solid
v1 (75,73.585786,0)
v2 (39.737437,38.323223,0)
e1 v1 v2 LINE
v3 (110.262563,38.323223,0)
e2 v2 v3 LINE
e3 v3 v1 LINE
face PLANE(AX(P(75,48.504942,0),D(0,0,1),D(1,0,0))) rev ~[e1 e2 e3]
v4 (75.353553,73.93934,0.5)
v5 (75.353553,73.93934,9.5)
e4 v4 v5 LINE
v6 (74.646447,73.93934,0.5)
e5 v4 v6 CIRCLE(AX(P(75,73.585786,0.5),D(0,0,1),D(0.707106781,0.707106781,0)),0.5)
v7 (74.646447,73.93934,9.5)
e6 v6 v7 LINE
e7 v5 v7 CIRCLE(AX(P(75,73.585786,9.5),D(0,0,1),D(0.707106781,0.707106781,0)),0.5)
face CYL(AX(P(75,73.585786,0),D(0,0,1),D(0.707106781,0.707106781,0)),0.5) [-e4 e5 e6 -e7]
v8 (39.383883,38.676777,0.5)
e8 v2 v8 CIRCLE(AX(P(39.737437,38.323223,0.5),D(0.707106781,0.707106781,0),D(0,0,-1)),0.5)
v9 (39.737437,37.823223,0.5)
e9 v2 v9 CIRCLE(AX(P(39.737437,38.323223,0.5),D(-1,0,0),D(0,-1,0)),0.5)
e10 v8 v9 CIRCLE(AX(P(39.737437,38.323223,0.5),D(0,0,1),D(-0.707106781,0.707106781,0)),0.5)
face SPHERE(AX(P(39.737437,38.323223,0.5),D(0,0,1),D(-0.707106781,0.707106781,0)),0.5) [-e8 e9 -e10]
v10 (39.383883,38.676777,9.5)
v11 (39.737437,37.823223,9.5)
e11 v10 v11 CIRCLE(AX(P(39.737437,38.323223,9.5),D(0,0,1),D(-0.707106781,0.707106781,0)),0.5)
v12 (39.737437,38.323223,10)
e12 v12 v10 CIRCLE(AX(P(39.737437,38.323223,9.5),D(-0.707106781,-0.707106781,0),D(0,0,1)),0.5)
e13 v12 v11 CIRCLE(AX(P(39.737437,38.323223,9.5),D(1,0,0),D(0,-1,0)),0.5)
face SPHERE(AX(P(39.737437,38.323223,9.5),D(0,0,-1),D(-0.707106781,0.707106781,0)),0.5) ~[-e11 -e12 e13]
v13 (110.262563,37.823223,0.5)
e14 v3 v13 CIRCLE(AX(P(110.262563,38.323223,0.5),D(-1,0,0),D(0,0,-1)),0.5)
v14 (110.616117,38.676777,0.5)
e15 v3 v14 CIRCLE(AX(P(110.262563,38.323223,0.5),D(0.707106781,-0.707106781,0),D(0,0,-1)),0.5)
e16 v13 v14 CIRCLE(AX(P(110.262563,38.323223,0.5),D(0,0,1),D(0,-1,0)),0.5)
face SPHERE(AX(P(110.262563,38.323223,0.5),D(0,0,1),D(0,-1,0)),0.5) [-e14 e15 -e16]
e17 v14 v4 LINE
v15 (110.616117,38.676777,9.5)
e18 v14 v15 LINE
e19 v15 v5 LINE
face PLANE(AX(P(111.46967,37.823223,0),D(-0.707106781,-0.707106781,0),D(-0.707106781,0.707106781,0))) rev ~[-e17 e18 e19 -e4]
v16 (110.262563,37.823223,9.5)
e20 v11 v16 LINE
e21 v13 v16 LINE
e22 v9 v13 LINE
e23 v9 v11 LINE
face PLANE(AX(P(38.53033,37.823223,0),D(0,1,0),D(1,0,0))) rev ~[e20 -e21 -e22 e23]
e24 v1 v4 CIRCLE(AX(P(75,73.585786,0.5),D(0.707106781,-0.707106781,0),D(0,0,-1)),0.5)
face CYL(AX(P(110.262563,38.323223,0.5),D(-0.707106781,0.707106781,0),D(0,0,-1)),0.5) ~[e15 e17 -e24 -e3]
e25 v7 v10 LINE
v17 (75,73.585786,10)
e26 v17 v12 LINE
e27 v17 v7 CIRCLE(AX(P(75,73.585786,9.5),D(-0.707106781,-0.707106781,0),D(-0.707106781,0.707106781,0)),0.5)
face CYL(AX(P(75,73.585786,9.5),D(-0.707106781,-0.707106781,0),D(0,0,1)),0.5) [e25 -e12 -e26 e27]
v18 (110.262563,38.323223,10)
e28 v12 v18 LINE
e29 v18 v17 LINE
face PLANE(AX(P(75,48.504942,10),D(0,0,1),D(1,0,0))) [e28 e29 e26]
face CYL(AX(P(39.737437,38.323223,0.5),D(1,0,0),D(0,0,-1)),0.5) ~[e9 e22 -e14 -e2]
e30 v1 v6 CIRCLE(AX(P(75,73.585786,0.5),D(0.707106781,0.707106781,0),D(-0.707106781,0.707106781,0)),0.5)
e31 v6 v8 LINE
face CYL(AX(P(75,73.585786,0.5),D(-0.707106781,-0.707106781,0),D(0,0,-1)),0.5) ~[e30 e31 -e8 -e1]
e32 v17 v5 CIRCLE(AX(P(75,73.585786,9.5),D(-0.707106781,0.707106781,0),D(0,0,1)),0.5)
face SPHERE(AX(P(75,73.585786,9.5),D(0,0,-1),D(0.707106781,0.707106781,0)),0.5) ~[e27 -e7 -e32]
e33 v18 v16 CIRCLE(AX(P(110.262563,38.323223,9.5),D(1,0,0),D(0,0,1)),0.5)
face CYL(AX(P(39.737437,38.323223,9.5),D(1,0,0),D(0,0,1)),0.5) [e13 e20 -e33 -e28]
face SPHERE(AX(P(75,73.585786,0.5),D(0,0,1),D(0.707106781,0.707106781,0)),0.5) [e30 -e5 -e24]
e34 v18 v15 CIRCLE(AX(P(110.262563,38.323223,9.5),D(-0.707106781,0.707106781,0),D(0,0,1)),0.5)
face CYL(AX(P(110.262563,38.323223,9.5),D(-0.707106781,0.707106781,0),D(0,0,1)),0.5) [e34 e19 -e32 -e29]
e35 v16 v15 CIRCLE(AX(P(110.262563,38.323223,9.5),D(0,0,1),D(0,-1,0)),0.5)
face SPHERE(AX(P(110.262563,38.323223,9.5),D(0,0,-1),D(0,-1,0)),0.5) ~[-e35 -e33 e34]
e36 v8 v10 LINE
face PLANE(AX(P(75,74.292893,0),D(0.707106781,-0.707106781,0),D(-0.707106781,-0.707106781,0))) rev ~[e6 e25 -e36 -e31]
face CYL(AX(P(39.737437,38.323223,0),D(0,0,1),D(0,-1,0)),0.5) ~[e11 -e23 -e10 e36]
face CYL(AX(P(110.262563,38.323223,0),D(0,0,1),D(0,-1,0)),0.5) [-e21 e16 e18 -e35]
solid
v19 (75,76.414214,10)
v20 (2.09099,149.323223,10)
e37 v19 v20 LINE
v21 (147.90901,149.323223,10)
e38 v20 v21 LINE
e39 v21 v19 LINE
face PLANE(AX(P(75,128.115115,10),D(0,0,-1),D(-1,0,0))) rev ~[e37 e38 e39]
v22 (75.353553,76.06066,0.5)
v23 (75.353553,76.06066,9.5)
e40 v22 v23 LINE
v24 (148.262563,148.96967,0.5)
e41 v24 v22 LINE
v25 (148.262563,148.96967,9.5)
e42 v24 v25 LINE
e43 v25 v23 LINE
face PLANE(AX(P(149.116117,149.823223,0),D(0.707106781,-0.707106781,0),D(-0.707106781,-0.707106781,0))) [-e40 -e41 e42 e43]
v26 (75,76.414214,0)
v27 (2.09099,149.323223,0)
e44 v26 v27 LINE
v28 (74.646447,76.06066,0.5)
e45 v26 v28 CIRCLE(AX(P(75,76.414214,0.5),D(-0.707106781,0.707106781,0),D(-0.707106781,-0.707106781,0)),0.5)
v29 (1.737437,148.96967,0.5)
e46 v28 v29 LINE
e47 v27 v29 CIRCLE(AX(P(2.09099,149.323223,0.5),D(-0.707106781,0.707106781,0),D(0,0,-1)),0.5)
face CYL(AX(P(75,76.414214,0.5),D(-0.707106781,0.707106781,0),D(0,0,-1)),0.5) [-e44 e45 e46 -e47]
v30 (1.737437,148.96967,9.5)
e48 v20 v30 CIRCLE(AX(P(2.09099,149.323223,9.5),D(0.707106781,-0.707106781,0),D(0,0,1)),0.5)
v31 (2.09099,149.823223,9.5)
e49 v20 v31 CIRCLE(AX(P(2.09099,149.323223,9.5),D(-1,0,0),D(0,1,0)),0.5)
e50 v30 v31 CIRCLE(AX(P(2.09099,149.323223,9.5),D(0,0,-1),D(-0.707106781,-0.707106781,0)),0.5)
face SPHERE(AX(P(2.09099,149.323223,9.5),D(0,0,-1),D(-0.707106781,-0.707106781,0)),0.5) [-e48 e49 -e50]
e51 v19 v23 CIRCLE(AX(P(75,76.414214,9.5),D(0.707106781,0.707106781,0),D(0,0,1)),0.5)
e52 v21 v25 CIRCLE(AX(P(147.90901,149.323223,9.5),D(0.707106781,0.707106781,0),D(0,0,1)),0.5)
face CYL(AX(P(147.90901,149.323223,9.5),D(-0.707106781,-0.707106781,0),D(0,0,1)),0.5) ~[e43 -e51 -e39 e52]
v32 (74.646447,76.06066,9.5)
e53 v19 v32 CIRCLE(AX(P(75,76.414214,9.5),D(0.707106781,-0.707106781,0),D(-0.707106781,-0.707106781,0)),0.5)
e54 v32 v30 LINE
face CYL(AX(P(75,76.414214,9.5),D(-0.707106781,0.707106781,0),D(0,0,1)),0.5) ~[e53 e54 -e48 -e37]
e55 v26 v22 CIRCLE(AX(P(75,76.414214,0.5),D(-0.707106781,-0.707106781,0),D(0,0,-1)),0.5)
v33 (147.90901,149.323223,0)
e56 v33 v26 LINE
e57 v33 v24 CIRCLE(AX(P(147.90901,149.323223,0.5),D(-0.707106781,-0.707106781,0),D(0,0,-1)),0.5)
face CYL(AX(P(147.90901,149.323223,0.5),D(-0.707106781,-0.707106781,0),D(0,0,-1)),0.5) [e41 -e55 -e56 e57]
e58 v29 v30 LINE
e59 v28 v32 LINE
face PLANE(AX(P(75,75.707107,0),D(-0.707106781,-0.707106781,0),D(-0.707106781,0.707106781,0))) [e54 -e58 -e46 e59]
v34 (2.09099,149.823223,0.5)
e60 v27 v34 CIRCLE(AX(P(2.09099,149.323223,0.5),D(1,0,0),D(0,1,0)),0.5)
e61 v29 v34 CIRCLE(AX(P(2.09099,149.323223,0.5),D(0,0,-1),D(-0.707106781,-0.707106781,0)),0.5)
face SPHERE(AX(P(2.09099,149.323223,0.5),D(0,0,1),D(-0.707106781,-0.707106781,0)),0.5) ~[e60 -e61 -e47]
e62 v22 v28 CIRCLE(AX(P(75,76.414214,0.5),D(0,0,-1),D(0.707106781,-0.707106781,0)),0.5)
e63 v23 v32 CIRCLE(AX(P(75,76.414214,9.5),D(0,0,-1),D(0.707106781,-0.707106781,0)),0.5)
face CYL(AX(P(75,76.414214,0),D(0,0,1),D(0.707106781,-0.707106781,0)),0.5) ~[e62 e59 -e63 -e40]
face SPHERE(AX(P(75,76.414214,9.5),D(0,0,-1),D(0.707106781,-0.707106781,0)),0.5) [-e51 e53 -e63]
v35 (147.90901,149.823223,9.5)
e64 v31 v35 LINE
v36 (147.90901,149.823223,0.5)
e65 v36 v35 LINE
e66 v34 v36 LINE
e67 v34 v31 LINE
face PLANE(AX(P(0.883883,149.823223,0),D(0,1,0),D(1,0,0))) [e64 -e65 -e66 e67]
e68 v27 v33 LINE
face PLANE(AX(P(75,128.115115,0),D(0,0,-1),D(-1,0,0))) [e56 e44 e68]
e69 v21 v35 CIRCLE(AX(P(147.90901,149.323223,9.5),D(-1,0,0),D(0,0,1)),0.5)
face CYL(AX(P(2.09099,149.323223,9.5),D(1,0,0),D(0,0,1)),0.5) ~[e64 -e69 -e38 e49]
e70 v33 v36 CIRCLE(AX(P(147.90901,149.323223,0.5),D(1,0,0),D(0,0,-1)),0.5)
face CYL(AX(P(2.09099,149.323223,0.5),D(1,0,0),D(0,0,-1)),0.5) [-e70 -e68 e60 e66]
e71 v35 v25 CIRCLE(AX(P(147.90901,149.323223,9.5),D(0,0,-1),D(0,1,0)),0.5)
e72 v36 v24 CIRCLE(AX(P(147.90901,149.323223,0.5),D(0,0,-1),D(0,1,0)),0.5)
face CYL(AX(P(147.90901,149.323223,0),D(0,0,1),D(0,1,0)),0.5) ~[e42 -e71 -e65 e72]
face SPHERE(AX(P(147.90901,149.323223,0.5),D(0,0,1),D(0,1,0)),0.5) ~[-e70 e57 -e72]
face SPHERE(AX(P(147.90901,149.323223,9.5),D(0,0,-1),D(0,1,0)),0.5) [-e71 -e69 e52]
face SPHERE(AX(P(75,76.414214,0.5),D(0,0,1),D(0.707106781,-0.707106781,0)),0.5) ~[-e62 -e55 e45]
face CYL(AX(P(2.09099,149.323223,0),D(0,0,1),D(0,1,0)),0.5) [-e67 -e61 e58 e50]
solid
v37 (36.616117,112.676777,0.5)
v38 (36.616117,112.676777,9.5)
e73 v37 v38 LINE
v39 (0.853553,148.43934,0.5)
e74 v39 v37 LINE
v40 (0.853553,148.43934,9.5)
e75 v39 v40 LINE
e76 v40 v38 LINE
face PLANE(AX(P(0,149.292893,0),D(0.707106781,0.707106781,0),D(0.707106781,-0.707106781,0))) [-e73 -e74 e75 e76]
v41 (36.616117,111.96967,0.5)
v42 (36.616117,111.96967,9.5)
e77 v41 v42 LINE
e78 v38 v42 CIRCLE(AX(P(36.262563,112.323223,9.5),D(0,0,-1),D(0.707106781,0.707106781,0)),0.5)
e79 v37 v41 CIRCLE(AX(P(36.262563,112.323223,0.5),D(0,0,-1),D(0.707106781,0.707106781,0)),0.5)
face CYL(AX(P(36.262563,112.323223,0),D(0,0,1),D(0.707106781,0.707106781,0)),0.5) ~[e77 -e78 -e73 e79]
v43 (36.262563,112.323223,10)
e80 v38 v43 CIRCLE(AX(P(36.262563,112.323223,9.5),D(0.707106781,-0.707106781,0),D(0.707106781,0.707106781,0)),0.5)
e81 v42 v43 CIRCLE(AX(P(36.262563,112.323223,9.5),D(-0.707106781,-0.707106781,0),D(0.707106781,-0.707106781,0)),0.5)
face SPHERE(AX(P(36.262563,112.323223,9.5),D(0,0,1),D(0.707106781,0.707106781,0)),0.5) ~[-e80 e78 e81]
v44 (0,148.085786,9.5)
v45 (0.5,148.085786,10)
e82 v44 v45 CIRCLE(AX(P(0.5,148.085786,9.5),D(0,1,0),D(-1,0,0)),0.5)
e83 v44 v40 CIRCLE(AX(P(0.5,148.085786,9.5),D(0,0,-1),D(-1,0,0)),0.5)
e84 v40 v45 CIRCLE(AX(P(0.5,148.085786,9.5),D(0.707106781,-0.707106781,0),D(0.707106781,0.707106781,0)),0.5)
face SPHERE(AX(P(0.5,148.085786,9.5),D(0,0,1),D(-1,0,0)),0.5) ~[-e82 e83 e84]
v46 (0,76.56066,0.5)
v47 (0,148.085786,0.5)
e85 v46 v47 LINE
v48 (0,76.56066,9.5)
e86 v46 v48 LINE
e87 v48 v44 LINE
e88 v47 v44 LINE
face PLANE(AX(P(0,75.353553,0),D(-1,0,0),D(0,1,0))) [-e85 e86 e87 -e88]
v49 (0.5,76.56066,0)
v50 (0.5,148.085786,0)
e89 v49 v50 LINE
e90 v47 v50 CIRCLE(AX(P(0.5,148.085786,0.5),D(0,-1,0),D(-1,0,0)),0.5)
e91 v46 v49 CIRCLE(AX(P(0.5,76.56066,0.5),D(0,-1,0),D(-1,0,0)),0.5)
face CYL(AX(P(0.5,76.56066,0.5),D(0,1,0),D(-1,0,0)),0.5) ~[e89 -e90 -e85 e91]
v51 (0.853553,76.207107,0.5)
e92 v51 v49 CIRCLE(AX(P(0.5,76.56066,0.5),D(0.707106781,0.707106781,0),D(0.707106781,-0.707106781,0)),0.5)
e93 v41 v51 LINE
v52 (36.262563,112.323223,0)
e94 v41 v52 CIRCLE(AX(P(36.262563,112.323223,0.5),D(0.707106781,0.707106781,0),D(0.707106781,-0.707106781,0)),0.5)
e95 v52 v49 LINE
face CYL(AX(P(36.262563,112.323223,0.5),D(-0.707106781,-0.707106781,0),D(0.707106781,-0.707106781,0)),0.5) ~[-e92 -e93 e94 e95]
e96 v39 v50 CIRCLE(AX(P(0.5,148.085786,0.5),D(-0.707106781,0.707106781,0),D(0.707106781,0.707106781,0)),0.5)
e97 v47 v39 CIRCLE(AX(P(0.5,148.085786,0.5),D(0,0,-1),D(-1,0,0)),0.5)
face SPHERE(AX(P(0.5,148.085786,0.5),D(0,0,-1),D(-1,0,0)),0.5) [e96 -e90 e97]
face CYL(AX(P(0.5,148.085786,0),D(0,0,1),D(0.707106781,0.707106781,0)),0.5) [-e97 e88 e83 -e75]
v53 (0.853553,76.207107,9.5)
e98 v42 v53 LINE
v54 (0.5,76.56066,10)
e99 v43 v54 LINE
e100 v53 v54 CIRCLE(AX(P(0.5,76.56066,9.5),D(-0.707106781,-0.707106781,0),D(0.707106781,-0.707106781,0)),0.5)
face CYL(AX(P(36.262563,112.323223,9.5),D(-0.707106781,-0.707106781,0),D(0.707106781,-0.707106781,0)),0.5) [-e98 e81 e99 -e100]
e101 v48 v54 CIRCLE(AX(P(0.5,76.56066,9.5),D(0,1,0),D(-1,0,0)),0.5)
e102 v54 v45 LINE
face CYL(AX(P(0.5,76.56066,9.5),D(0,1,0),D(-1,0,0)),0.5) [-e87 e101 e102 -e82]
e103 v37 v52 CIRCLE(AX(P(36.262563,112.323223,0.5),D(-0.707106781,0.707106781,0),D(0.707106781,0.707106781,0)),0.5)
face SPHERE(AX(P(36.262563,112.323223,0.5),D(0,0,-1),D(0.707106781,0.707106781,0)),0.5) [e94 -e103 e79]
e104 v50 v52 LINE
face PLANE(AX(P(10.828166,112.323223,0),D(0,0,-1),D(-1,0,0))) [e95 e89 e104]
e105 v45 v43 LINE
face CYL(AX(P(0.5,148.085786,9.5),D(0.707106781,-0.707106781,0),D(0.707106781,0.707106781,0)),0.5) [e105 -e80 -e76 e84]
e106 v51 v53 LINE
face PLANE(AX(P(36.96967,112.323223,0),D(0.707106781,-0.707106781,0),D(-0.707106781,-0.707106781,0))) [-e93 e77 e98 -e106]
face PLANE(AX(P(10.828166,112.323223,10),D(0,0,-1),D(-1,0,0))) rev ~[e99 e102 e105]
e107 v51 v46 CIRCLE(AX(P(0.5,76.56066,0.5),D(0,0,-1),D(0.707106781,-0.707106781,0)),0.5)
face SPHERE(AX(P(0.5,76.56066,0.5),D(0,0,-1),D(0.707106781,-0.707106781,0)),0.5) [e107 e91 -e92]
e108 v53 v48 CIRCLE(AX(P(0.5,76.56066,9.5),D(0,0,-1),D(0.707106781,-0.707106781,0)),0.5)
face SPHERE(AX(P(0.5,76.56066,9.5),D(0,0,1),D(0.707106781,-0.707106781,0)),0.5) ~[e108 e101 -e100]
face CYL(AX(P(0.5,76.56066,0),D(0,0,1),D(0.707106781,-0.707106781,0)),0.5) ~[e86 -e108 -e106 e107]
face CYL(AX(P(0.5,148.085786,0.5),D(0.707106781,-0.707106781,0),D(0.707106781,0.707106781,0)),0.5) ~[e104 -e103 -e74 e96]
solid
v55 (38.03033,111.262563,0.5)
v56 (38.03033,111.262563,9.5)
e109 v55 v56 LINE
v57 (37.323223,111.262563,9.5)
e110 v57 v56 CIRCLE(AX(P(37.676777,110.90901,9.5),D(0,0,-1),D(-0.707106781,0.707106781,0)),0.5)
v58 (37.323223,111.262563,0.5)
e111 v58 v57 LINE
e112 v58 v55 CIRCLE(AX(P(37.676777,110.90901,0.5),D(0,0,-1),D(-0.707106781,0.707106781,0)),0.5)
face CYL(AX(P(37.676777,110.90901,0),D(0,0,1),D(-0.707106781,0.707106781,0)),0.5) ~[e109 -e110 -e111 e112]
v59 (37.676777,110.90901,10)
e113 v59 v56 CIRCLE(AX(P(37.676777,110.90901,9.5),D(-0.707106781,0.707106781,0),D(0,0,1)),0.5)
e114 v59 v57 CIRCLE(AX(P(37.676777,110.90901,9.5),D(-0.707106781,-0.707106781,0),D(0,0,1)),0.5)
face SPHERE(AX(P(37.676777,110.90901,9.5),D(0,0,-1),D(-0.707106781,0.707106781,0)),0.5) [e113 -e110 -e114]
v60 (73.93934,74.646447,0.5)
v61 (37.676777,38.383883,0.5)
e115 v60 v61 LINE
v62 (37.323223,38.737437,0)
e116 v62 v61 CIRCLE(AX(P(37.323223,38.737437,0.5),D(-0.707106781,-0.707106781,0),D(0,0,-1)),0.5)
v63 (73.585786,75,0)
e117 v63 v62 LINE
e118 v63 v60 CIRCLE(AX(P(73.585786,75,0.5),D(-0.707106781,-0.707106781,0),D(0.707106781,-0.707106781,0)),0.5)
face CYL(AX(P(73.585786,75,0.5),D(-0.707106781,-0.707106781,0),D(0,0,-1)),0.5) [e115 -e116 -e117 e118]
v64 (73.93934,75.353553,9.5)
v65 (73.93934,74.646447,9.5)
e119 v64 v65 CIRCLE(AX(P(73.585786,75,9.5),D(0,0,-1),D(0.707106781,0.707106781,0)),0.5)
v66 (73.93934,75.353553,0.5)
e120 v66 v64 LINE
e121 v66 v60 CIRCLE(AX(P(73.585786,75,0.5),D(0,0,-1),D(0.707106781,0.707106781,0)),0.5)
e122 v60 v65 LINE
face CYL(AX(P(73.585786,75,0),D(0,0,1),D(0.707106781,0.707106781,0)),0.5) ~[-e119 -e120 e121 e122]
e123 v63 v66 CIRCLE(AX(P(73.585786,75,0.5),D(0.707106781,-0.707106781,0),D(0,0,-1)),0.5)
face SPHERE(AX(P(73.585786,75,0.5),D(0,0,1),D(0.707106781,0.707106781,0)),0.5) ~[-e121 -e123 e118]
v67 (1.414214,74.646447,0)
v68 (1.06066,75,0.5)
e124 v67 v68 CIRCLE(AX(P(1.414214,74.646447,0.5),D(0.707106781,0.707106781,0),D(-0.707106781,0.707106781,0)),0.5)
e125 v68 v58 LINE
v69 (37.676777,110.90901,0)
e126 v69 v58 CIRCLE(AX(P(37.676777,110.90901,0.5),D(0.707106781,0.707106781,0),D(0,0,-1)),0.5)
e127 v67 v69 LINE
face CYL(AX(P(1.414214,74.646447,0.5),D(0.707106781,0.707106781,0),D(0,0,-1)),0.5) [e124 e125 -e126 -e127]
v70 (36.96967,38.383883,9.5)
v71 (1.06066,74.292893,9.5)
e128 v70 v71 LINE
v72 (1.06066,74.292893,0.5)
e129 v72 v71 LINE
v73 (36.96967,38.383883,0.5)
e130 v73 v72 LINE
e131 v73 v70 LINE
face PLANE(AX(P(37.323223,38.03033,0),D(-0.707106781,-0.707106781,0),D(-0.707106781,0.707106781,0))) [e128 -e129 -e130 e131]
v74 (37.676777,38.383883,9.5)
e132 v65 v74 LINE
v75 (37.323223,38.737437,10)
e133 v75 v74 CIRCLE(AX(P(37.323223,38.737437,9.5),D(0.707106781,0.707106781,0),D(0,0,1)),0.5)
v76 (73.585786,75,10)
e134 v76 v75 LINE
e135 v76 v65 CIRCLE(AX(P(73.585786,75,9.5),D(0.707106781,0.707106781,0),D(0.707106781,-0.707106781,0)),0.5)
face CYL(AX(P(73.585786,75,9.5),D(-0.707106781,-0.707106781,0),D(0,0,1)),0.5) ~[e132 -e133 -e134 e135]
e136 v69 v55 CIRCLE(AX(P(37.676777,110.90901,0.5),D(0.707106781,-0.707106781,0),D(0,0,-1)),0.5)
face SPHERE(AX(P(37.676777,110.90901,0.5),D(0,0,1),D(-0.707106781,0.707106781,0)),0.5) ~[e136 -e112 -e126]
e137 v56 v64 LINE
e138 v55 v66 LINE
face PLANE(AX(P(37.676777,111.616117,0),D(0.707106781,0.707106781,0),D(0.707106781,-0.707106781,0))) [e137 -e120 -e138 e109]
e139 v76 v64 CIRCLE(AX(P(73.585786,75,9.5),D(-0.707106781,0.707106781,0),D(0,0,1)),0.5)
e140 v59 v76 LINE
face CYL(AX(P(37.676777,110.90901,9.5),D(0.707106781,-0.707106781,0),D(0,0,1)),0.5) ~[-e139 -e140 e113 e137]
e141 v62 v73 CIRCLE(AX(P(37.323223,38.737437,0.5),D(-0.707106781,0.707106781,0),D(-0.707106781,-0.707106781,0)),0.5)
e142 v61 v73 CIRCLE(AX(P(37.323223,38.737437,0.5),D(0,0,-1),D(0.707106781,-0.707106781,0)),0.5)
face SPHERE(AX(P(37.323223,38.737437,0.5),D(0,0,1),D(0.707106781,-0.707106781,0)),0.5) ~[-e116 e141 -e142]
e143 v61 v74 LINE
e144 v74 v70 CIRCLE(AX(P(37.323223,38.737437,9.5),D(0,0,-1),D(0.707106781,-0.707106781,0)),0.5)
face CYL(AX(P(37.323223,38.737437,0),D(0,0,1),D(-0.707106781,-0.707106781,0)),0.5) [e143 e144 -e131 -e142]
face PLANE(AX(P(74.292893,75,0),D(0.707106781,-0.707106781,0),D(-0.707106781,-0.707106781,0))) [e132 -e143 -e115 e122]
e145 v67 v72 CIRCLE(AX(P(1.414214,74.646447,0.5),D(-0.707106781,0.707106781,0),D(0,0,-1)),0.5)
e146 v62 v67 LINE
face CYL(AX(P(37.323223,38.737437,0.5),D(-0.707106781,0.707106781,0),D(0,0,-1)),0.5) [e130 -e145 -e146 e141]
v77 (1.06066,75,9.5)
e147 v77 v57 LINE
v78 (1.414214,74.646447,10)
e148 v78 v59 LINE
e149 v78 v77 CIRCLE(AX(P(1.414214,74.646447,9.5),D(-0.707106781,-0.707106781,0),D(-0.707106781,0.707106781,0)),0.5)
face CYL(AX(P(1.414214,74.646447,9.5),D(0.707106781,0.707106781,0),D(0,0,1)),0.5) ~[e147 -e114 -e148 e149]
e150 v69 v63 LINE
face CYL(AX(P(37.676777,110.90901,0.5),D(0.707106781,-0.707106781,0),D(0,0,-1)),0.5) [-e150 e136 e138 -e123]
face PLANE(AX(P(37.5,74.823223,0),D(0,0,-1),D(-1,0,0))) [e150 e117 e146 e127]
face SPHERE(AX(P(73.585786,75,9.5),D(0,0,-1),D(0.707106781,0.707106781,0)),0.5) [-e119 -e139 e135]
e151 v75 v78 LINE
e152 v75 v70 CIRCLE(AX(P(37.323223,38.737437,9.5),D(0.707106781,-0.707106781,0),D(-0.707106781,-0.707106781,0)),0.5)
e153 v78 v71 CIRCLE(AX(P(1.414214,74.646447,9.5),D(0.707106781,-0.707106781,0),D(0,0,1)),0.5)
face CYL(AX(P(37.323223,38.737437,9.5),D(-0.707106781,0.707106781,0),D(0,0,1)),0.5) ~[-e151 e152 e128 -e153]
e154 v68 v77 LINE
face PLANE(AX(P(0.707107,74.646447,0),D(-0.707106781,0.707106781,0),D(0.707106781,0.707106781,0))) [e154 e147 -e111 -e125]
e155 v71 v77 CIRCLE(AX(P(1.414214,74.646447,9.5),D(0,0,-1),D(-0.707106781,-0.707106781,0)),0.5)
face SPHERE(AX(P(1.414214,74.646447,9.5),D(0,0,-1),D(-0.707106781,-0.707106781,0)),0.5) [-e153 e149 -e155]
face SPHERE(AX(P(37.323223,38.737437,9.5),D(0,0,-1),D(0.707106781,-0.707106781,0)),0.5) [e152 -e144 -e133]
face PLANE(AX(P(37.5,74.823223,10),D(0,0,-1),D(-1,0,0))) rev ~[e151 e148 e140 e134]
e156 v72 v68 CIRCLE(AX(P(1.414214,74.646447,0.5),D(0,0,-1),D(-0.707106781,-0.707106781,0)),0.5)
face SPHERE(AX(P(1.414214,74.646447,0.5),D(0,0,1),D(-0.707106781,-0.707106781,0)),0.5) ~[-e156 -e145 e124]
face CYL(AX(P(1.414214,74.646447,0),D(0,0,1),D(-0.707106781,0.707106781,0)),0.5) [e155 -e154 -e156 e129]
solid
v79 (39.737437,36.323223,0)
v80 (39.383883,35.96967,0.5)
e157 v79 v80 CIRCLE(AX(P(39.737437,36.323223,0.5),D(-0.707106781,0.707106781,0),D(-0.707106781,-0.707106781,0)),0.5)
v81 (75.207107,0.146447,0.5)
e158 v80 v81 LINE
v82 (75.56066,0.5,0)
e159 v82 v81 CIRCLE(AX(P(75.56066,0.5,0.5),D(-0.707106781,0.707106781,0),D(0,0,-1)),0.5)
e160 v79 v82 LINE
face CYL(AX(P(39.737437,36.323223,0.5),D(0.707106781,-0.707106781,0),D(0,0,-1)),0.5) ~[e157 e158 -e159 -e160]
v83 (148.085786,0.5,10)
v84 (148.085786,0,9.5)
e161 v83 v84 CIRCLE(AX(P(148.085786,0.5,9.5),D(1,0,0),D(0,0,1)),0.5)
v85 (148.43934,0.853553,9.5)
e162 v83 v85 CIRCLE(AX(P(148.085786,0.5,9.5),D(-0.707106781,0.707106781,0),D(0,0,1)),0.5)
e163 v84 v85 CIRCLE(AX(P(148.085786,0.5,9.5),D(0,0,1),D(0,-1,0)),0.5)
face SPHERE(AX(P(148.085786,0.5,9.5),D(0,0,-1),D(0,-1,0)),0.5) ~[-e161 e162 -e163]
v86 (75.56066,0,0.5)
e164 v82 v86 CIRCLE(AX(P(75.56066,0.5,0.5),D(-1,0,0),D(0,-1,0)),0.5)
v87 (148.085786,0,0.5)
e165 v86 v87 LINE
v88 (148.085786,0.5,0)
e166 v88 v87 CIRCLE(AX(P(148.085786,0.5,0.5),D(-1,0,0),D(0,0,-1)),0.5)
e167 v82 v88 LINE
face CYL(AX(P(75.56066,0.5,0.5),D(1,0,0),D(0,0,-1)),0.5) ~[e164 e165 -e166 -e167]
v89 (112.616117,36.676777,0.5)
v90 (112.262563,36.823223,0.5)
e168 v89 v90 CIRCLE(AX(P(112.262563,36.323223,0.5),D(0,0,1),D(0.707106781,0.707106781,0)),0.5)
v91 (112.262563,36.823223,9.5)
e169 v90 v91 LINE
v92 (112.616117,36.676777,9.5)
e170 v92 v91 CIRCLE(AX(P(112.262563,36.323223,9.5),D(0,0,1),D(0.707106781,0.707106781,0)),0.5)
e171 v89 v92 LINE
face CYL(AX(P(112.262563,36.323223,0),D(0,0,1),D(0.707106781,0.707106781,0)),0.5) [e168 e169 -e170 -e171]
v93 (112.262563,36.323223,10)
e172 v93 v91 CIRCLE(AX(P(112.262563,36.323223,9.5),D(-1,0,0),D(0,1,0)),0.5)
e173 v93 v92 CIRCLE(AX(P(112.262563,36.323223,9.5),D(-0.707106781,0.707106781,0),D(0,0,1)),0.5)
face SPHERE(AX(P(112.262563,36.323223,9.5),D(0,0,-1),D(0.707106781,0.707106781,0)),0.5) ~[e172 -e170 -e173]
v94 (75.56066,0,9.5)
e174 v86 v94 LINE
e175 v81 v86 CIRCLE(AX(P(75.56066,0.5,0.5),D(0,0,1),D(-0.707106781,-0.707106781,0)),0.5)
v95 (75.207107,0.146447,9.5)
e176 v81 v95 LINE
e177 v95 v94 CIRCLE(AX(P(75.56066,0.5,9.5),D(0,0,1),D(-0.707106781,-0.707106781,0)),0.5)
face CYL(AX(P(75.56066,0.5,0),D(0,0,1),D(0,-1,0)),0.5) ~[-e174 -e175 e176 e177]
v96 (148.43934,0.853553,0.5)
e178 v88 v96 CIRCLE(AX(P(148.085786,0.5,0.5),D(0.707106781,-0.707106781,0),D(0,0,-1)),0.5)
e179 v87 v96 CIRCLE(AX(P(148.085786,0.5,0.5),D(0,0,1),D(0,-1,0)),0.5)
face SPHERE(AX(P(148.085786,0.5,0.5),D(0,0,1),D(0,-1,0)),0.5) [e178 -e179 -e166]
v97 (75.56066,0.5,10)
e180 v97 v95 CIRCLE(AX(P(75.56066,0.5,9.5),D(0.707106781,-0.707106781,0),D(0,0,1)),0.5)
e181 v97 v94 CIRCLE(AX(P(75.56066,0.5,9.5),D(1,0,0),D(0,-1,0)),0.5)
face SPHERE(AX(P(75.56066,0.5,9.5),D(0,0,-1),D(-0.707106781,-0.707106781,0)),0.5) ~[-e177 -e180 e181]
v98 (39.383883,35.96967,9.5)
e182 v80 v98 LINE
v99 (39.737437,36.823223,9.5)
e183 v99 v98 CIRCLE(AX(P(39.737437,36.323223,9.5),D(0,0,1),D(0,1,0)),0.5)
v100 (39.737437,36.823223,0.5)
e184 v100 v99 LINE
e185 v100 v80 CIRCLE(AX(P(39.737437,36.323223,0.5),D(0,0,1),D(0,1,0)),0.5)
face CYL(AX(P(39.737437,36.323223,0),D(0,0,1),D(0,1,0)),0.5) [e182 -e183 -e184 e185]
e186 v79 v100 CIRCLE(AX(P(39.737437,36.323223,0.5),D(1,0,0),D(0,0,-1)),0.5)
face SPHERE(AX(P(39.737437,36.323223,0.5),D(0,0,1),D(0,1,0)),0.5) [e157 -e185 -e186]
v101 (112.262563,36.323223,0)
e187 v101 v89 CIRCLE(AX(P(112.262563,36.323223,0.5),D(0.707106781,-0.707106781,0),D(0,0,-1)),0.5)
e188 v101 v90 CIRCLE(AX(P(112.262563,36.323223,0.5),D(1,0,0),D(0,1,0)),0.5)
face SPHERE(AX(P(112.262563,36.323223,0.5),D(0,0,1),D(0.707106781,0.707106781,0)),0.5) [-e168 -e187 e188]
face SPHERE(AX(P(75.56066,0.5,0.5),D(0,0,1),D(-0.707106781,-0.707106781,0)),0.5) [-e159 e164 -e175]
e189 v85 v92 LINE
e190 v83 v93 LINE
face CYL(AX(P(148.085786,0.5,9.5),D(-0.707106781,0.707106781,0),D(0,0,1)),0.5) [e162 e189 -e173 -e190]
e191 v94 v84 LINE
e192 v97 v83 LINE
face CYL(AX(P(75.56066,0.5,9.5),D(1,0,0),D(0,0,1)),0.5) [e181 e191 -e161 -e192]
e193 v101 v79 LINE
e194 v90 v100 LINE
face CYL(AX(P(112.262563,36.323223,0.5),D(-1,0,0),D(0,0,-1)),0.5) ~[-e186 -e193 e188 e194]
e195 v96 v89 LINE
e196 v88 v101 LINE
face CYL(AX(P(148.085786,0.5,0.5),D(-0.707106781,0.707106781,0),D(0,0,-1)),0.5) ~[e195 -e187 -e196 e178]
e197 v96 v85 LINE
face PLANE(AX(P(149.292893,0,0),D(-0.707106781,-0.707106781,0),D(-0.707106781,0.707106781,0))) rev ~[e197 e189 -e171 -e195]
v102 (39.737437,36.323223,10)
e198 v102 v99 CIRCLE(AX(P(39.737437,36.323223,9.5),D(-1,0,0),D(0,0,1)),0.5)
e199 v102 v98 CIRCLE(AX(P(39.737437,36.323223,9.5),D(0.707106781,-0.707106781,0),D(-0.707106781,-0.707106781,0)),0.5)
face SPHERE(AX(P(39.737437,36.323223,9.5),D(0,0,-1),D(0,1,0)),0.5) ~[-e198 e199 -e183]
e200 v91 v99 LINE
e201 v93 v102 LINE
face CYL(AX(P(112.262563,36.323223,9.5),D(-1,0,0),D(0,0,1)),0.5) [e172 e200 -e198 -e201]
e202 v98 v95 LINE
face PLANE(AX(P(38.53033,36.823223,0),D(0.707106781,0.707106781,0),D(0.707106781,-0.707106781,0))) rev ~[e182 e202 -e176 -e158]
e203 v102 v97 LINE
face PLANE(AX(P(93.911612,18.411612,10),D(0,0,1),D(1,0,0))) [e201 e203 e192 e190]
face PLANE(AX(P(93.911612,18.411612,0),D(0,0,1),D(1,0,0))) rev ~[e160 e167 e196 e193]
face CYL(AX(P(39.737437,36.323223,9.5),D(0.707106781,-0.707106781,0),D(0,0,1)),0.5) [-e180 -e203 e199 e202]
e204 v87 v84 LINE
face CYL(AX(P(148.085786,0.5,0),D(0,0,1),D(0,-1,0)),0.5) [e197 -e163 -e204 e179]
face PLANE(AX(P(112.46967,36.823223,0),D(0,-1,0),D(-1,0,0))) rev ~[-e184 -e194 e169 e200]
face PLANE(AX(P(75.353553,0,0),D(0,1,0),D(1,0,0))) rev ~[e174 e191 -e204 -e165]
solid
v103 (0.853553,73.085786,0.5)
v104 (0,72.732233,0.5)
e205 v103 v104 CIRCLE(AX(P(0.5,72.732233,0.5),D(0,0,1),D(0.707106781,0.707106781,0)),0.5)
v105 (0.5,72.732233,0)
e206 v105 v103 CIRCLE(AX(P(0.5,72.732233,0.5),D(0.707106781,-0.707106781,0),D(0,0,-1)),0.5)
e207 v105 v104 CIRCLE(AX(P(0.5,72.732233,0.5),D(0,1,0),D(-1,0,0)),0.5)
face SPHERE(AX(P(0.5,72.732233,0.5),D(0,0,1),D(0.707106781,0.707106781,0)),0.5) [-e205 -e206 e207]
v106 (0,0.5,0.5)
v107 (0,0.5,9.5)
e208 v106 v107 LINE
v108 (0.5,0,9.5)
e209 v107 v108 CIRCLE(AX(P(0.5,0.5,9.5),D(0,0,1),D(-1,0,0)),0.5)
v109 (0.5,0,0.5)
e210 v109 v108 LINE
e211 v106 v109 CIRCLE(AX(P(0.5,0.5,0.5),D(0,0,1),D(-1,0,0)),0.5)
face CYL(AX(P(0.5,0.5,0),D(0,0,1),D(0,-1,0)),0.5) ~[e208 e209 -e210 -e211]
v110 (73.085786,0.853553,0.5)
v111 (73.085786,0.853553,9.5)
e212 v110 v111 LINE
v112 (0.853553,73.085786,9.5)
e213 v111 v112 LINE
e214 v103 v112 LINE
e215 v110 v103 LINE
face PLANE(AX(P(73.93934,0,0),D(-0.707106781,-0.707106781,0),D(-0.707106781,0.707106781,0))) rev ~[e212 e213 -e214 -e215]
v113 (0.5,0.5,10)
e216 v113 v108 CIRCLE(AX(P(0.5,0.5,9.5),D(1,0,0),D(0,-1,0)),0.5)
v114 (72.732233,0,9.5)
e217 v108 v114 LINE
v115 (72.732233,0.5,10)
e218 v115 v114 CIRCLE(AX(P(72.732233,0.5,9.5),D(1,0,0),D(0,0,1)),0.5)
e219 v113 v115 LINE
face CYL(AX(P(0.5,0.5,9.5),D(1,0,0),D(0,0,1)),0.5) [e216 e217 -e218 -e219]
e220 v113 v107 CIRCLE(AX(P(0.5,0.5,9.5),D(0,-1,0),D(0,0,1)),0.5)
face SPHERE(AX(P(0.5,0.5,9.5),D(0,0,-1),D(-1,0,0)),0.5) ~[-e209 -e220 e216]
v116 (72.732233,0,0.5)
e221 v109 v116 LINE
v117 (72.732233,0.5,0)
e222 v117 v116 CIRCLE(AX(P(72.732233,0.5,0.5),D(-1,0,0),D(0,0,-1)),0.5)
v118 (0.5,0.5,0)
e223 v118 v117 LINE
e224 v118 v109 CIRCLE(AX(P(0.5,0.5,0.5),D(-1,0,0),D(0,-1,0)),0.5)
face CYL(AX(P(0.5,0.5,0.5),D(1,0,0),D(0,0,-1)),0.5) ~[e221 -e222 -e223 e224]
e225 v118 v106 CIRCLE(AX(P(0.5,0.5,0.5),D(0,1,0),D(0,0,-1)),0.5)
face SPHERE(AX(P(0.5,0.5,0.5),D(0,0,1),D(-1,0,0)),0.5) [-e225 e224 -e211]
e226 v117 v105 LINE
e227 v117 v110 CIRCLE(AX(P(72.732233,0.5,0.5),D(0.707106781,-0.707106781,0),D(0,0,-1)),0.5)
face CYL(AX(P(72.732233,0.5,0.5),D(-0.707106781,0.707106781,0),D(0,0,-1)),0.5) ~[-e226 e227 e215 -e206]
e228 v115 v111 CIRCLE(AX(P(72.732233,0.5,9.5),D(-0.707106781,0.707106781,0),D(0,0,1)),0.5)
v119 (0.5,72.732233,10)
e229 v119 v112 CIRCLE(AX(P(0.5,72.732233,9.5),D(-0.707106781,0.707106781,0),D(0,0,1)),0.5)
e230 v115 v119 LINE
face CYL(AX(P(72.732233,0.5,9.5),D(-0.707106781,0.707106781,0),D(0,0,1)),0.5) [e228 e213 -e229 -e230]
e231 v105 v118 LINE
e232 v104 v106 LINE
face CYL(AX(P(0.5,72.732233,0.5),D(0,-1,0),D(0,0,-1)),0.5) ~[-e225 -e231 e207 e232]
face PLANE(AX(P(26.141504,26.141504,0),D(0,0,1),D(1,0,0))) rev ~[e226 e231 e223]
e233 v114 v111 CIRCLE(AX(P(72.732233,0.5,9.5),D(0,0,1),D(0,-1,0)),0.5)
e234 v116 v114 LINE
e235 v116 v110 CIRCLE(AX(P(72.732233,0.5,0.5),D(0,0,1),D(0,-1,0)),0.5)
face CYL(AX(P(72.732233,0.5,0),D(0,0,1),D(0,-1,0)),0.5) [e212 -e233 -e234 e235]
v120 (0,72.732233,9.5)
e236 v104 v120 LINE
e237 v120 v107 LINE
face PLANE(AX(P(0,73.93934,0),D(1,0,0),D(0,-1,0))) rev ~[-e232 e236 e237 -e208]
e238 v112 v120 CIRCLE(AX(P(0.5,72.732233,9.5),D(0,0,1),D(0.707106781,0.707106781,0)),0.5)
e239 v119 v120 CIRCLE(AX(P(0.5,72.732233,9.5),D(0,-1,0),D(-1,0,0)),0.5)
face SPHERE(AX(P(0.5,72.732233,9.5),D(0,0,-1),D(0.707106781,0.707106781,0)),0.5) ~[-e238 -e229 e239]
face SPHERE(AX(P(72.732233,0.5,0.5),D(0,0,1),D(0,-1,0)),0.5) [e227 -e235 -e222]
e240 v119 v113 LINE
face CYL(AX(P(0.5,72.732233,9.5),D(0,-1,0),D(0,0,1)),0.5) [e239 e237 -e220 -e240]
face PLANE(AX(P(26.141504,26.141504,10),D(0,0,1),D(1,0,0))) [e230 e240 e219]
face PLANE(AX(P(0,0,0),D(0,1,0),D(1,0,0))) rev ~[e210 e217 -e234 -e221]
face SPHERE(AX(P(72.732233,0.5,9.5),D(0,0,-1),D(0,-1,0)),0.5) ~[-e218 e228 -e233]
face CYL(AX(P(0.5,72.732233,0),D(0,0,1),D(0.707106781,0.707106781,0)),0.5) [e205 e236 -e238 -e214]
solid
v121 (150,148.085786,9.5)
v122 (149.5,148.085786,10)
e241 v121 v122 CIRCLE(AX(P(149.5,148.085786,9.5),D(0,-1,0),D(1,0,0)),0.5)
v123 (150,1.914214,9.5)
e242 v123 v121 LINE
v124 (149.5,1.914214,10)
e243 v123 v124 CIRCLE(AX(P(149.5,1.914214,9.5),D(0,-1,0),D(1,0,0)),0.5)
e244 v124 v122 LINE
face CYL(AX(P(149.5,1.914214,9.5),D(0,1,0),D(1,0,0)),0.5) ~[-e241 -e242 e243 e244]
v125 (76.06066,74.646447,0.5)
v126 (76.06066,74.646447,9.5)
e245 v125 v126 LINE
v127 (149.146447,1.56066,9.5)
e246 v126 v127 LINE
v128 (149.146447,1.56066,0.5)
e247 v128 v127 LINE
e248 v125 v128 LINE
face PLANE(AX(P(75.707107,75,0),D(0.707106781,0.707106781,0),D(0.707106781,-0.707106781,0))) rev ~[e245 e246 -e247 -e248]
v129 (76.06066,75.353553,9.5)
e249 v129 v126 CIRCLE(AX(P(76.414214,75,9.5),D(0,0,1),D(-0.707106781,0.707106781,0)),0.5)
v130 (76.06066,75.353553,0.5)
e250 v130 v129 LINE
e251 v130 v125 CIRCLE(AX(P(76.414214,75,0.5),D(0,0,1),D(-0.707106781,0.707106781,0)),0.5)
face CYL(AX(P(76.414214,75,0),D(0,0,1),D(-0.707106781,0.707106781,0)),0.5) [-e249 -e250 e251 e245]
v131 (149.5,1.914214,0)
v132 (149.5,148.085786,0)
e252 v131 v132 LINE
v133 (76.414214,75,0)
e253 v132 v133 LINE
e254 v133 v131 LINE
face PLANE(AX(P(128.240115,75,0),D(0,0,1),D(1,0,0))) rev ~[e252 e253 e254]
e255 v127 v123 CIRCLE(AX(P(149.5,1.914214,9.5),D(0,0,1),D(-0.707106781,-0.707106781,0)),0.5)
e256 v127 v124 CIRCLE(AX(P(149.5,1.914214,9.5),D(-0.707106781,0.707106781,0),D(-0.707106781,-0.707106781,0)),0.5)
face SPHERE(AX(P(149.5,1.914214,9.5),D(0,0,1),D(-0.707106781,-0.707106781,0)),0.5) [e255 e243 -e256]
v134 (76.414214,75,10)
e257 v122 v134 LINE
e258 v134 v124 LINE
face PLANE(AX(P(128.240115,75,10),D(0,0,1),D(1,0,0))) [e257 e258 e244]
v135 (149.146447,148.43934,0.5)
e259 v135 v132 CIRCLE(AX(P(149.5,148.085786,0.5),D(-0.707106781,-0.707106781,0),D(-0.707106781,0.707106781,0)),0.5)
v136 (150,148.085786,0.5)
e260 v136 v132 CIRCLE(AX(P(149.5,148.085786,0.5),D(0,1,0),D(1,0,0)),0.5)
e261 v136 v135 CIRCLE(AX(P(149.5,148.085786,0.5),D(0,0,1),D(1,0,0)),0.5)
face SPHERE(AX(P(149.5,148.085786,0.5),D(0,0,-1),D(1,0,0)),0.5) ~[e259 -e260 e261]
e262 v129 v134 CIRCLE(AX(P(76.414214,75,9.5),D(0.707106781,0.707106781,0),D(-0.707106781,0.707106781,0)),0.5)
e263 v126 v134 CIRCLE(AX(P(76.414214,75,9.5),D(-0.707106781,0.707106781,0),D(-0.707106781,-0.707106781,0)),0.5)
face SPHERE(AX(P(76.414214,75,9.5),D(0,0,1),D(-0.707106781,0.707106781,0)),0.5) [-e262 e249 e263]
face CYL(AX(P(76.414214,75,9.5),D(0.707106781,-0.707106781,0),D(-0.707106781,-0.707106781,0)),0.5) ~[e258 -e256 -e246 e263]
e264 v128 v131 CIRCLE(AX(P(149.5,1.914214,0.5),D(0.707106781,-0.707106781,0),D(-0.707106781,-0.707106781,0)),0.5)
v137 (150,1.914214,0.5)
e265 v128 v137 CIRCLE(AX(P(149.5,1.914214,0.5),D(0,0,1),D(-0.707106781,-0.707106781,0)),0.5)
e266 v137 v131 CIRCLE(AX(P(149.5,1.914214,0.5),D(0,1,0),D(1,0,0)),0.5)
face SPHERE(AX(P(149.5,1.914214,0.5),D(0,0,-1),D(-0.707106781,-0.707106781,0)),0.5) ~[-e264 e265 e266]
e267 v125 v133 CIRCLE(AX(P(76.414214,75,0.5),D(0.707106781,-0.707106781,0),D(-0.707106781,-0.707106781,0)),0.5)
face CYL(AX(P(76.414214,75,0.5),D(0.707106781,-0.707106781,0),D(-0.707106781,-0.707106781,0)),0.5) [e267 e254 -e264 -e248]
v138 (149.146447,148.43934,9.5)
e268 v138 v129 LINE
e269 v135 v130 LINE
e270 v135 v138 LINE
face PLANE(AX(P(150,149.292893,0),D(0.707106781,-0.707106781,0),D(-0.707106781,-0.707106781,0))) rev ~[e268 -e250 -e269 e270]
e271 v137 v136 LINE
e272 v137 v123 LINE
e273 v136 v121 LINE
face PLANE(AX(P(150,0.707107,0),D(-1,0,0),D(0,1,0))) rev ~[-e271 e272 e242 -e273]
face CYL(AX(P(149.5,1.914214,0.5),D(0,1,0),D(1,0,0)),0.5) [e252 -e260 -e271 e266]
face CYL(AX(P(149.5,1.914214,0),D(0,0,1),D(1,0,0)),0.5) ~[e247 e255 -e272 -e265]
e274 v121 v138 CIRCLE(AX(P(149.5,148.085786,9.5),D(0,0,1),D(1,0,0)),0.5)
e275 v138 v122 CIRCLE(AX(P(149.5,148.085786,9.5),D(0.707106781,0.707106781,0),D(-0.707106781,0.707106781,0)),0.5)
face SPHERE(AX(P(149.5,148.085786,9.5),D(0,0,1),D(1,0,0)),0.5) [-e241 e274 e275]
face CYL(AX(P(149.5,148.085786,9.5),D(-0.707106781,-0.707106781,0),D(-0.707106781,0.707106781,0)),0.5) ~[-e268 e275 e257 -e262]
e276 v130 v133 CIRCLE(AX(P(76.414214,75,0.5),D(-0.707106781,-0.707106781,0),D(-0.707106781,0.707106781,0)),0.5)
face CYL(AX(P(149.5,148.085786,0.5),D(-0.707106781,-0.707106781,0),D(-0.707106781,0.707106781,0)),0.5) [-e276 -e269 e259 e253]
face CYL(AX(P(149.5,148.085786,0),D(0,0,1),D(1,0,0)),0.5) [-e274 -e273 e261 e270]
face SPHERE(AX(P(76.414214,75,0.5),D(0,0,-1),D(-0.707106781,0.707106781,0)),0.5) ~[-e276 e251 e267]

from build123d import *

# Parameters (mm, degrees)
EXTRUDE_1_DEPTH   = 10
EXTRUDE_1_2_DEPTH = 10
EXTRUDE_1_3_DEPTH = 10
EXTRUDE_1_4_DEPTH = 10
EXTRUDE_1_5_DEPTH = 10
EXTRUDE_1_6_DEPTH = 10
EXTRUDE_1_7_DEPTH = 10
FILLET_1_R        = 0.5
FILLET_2_R        = 0.5
FILLET_3_R        = 0.5
FILLET_4_R        = 0.5
FILLET_5_R        = 0.5
FILLET_6_R        = 0.5
FILLET_7_R        = 0.5
FILLET_8_R        = 0.5
FILLET_9_R        = 0.5
FILLET_10_R       = 0.5
FILLET_11_R       = 0.5
FILLET_12_R       = 0.5
FILLET_13_R       = 0.5
FILLET_14_R       = 0.5
FILLET_15_R       = 0.5
FILLET_16_R       = 0.5
FILLET_17_R       = 0.5
FILLET_18_R       = 0.5
FILLET_19_R       = 0.5
FILLET_20_R       = 0.5
FILLET_21_R       = 0.5
FILLET_22_R       = 0.5


with BuildPart() as part:
    # 草图1 → 凸台-拉伸1 (new body)
    with BuildSketch(Plane.XY):
        Polygon((0, 0), (73.939339828, 0), (0, 73.939339828), align=None)
    extrude(amount=EXTRUDE_1_DEPTH)

    # 圆角7
    fillet_7_edges = [part.edges().sort_by_distance(p)[0] for p in [
        (73.939339828, 0, 5),
        (0, 0, 5),
        (0, 73.939339828, 5),
    ]]
    fillet(fillet_7_edges, radius=FILLET_7_R)

    # 圆角15
    fillet_15_edges = [part.edges().sort_by_distance(p)[0] for p in [
        (36.969669914, 36.969669914, 10),
        (36.616116524, 0, 10),
        (0, 36.616116524, 10),
        (0.308658284, 73.194172813, 10),
        (0.146446609, 0.146446609, 10),
        (73.194172813, 0.308658284, 10),
    ]]
    fillet(fillet_15_edges, radius=FILLET_15_R)

    # 圆角16
    fillet_16_edges = [part.edges().sort_by_distance(p)[0] for p in [
        (36.969669914, 36.969669914, 0),
        (36.616116524, 0, 0),
        (0, 36.616116524, 0),
        (0.308658284, 73.194172813, 0),
        (0.146446609, 0.146446609, 0),
        (73.194172813, 0.308658284, 0),
    ]]
    fillet(fillet_16_edges, radius=FILLET_16_R)


with BuildPart() as body_2:
    # 草图1 → Extrude 1 2 (new body)
    with BuildSketch(Plane.XY):
        Polygon((0.883883476, 149.823223305), (149.116116524, 149.823223305), (75, 75.707106781), align=None)
    extrude(amount=EXTRUDE_1_2_DEPTH)

    # 圆角3
    fillet_3_edges = [body_2.edges().sort_by_distance(p)[0] for p in [
        (0.883883476, 149.823223305, 5),
        (149.116116524, 149.823223305, 5),
        (75, 75.707106781, 5),
    ]]
    fillet(fillet_3_edges, radius=FILLET_3_R)

    # 圆角11
    fillet_11_edges = [body_2.edges().sort_by_distance(p)[0] for p in [
        (111.808058262, 112.515165043, 10),
        (38.191941738, 112.515165043, 10),
        (75, 149.823223305, 10),
        (1.629050491, 149.514565021, 10),
        (148.370949509, 149.514565021, 10),
        (75, 75.914213562, 10),
    ]]
    fillet(fillet_11_edges, radius=FILLET_11_R)

    # 圆角19
    fillet_19_edges = [body_2.edges().sort_by_distance(p)[0] for p in [
        (111.808058262, 112.515165043, 0),
        (38.191941738, 112.515165043, 0),
        (75, 149.823223305, 0),
        (1.629050491, 149.514565021, 0),
        (148.370949509, 149.514565021, 0),
        (75, 75.914213562, 0),
    ]]
    fillet(fillet_19_edges, radius=FILLET_19_R)


with BuildPart() as body_3:
    # 草图1 → Extrude 1 3 (new body)
    with BuildSketch(Plane.XY):
        Polygon((150, 0.707106781), (150, 149.292893219), (75.707106781, 75), align=None)
    extrude(amount=EXTRUDE_1_3_DEPTH)

    # 圆角4
    fillet_4_edges = [body_3.edges().sort_by_distance(p)[0] for p in [
        (150, 149.292893219, 5),
        (150, 0.707106781, 5),
        (75.707106781, 75, 5),
    ]]
    fillet(fillet_4_edges, radius=FILLET_4_R)

    # 圆角10
    fillet_10_edges = [body_3.edges().sort_by_distance(p)[0] for p in [
        (150, 75, 10),
        (112.603553391, 38.103553391, 10),
        (112.603553391, 111.896446609, 10),
        (149.691341716, 148.547726204, 10),
        (75.914213562, 75, 10),
        (149.691341716, 1.452273796, 10),
    ]]
    fillet(fillet_10_edges, radius=FILLET_10_R)

    # 圆角20
    fillet_20_edges = [body_3.edges().sort_by_distance(p)[0] for p in [
        (150, 75, 0),
        (112.603553391, 111.896446609, 0),
        (112.603553391, 38.103553391, 0),
        (149.691341716, 148.547726204, 0),
        (75.914213562, 75, 0),
        (149.691341716, 1.452273796, 0),
    ]]
    fillet(fillet_20_edges, radius=FILLET_20_R)


with BuildPart() as body_4:
    # 草图1 → Extrude 1 4 (new body)
    with BuildSketch(Plane.XY):
        Polygon((0, 149.292893219), (36.969669914, 112.323223305), (0, 75.353553391), align=None)
    extrude(amount=EXTRUDE_1_4_DEPTH)

    # 圆角2
    fillet_2_edges = [body_4.edges().sort_by_distance(p)[0] for p in [
        (0, 149.292893219, 5),
        (36.969669914, 112.323223305, 5),
        (0, 75.353553391, 5),
    ]]
    fillet(fillet_2_edges, radius=FILLET_2_R)

    # 圆角14
    fillet_14_edges = [body_4.edges().sort_by_distance(p)[0] for p in [
        (18.734834957, 130.558058262, 10),
        (18.734834957, 94.088388348, 10),
        (0, 112.323223305, 10),
        (0.308658284, 148.547726204, 10),
        (0.308658284, 76.098720406, 10),
        (36.762563133, 112.323223305, 10),
    ]]
    fillet(fillet_14_edges, radius=FILLET_14_R)

    # 圆角18
    fillet_18_edges = [body_4.edges().sort_by_distance(p)[0] for p in [
        (18.734834957, 130.558058262, 0),
        (0, 112.323223305, 0),
        (18.734834957, 94.088388348, 0),
        (0.308658284, 148.547726204, 0),
        (0.308658284, 76.098720406, 0),
        (36.762563133, 112.323223305, 0),
    ]]
    fillet(fillet_18_edges, radius=FILLET_18_R)


with BuildPart() as body_5:
    # 草图1 → Extrude 1 5 (new body)
    with BuildSketch(Plane.XY):
        Polygon((38.530330086, 37.823223305), (111.469669914, 37.823223305), (75, 74.292893219), align=None)
    extrude(amount=EXTRUDE_1_5_DEPTH)

    # 圆角6
    fillet_6_edges = [body_5.edges().sort_by_distance(p)[0] for p in [
        (111.469669914, 37.823223305, 5),
        (38.530330086, 37.823223305, 5),
        (75, 74.292893219, 5),
    ]]
    fillet(fillet_6_edges, radius=FILLET_6_R)

    # 圆角12
    fillet_12_edges = [body_5.edges().sort_by_distance(p)[0] for p in [
        (92.984834957, 56.308058262, 10),
        (75, 37.823223305, 10),
        (57.015165043, 56.308058262, 10),
        (75, 74.085786438, 10),
        (39.275497101, 38.131881589, 10),
        (110.724502899, 38.131881589, 10),
    ]]
    fillet(fillet_12_edges, radius=FILLET_12_R)

    # 圆角21
    fillet_21_edges = [body_5.edges().sort_by_distance(p)[0] for p in [
        (92.984834957, 56.308058262, 0),
        (75, 37.823223305, 0),
        (57.015165043, 56.308058262, 0),
        (75, 74.085786438, 0),
        (39.275497101, 38.131881589, 0),
        (110.724502899, 38.131881589, 0),
    ]]
    fillet(fillet_21_edges, radius=FILLET_21_R)


with BuildPart() as body_6:
    # 草图1 → Extrude 1 6 (new body)
    with BuildSketch(Plane.XY):
        Polygon((75.353553391, 0), (149.292893219, 0), (112.469669914, 36.823223305), (38.530330086, 36.823223305), align=None)
    extrude(amount=EXTRUDE_1_6_DEPTH)

    # 圆角8
    fillet_8_edges = [body_6.edges().sort_by_distance(p)[0] for p in [
        (112.469669914, 36.823223305, 5),
        (149.292893219, 0, 5),
        (75.353553391, 0, 5),
        (38.530330086, 36.823223305, 5),
    ]]
    fillet(fillet_8_edges, radius=FILLET_8_R)

    # 圆角9
    fillet_9_edges = [body_6.edges().sort_by_distance(p)[0] for p in [
        (130.527728176, 18.765165043, 10),
        (111.823223305, 0, 10),
        (76, 36.823223305, 10),
        (57.295495129, 18.058058262, 10),
        (75.369318456, 0.038060234, 10),
        (39.275497101, 36.514565021, 10),
        (112.453904849, 36.785163071, 10),
        (148.547726204, 0.308658284, 10),
    ]]
    fillet(fillet_9_edges, radius=FILLET_9_R)

    # 圆角22
    fillet_22_edges = [body_6.edges().sort_by_distance(p)[0] for p in [
        (130.527728176, 18.765165043, 0),
        (76, 36.823223305, 0),
        (111.823223305, 0, 0),
        (57.295495129, 18.058058262, 0),
        (75.369318456, 0.038060234, 0),
        (39.275497101, 36.514565021, 0),
        (112.453904849, 36.785163071, 0),
        (148.547726204, 0.308658284, 0),
    ]]
    fillet(fillet_22_edges, radius=FILLET_22_R)


with BuildPart() as body_7:
    # 草图1 → Extrude 1 7 (new body)
    with BuildSketch(Plane.XY):
        Polygon((0.707106781, 74.646446609), (37.676776695, 111.616116524), (74.292893219, 75), (37.323223305, 38.030330086), align=None)
    extrude(amount=EXTRUDE_1_7_DEPTH)

    # 圆角1
    fillet_1_edges = [body_7.edges().sort_by_distance(p)[0] for p in [
        (37.676776695, 111.616116524, 5),
    ]]
    fillet(fillet_1_edges, radius=FILLET_1_R)

    # 圆角5
    fillet_5_edges = [body_7.edges().sort_by_distance(p)[0] for p in [
        (0.707106781, 74.646446609, 5),
        (74.292893219, 75, 5),
        (37.323223305, 38.030330086, 5),
    ]]
    fillet(fillet_5_edges, radius=FILLET_5_R)

    # 圆角13
    fillet_13_edges = [body_7.edges().sort_by_distance(p)[0] for p in [
        (55.984834957, 93.308058262, 10),
        (37.676776695, 111.409009742, 10),
        (55.808058262, 56.515165043, 10),
        (19.191941738, 93.131281566, 10),
        (19.015165043, 56.338388348, 10),
        (0.914213562, 74.646446609, 10),
        (37.323223305, 38.237436867, 10),
        (74.085786438, 75, 10),
    ]]
    fillet(fillet_13_edges, radius=FILLET_13_R)

    # 圆角17
    fillet_17_edges = [body_7.edges().sort_by_distance(p)[0] for p in [
        (55.984834957, 93.308058262, 0),
        (37.676776695, 111.409009742, 0),
        (19.191941738, 93.131281566, 0),
        (55.808058262, 56.515165043, 0),
        (19.015165043, 56.338388348, 0),
        (0.914213562, 74.646446609, 0),
        (37.323223305, 38.237436867, 0),
        (74.085786438, 75, 0),
    ]]
    fillet(fillet_17_edges, radius=FILLET_17_R)


solid = Compound([part.part, body_2.part, body_3.part, body_4.part, body_5.part, body_6.part, body_7.part])
